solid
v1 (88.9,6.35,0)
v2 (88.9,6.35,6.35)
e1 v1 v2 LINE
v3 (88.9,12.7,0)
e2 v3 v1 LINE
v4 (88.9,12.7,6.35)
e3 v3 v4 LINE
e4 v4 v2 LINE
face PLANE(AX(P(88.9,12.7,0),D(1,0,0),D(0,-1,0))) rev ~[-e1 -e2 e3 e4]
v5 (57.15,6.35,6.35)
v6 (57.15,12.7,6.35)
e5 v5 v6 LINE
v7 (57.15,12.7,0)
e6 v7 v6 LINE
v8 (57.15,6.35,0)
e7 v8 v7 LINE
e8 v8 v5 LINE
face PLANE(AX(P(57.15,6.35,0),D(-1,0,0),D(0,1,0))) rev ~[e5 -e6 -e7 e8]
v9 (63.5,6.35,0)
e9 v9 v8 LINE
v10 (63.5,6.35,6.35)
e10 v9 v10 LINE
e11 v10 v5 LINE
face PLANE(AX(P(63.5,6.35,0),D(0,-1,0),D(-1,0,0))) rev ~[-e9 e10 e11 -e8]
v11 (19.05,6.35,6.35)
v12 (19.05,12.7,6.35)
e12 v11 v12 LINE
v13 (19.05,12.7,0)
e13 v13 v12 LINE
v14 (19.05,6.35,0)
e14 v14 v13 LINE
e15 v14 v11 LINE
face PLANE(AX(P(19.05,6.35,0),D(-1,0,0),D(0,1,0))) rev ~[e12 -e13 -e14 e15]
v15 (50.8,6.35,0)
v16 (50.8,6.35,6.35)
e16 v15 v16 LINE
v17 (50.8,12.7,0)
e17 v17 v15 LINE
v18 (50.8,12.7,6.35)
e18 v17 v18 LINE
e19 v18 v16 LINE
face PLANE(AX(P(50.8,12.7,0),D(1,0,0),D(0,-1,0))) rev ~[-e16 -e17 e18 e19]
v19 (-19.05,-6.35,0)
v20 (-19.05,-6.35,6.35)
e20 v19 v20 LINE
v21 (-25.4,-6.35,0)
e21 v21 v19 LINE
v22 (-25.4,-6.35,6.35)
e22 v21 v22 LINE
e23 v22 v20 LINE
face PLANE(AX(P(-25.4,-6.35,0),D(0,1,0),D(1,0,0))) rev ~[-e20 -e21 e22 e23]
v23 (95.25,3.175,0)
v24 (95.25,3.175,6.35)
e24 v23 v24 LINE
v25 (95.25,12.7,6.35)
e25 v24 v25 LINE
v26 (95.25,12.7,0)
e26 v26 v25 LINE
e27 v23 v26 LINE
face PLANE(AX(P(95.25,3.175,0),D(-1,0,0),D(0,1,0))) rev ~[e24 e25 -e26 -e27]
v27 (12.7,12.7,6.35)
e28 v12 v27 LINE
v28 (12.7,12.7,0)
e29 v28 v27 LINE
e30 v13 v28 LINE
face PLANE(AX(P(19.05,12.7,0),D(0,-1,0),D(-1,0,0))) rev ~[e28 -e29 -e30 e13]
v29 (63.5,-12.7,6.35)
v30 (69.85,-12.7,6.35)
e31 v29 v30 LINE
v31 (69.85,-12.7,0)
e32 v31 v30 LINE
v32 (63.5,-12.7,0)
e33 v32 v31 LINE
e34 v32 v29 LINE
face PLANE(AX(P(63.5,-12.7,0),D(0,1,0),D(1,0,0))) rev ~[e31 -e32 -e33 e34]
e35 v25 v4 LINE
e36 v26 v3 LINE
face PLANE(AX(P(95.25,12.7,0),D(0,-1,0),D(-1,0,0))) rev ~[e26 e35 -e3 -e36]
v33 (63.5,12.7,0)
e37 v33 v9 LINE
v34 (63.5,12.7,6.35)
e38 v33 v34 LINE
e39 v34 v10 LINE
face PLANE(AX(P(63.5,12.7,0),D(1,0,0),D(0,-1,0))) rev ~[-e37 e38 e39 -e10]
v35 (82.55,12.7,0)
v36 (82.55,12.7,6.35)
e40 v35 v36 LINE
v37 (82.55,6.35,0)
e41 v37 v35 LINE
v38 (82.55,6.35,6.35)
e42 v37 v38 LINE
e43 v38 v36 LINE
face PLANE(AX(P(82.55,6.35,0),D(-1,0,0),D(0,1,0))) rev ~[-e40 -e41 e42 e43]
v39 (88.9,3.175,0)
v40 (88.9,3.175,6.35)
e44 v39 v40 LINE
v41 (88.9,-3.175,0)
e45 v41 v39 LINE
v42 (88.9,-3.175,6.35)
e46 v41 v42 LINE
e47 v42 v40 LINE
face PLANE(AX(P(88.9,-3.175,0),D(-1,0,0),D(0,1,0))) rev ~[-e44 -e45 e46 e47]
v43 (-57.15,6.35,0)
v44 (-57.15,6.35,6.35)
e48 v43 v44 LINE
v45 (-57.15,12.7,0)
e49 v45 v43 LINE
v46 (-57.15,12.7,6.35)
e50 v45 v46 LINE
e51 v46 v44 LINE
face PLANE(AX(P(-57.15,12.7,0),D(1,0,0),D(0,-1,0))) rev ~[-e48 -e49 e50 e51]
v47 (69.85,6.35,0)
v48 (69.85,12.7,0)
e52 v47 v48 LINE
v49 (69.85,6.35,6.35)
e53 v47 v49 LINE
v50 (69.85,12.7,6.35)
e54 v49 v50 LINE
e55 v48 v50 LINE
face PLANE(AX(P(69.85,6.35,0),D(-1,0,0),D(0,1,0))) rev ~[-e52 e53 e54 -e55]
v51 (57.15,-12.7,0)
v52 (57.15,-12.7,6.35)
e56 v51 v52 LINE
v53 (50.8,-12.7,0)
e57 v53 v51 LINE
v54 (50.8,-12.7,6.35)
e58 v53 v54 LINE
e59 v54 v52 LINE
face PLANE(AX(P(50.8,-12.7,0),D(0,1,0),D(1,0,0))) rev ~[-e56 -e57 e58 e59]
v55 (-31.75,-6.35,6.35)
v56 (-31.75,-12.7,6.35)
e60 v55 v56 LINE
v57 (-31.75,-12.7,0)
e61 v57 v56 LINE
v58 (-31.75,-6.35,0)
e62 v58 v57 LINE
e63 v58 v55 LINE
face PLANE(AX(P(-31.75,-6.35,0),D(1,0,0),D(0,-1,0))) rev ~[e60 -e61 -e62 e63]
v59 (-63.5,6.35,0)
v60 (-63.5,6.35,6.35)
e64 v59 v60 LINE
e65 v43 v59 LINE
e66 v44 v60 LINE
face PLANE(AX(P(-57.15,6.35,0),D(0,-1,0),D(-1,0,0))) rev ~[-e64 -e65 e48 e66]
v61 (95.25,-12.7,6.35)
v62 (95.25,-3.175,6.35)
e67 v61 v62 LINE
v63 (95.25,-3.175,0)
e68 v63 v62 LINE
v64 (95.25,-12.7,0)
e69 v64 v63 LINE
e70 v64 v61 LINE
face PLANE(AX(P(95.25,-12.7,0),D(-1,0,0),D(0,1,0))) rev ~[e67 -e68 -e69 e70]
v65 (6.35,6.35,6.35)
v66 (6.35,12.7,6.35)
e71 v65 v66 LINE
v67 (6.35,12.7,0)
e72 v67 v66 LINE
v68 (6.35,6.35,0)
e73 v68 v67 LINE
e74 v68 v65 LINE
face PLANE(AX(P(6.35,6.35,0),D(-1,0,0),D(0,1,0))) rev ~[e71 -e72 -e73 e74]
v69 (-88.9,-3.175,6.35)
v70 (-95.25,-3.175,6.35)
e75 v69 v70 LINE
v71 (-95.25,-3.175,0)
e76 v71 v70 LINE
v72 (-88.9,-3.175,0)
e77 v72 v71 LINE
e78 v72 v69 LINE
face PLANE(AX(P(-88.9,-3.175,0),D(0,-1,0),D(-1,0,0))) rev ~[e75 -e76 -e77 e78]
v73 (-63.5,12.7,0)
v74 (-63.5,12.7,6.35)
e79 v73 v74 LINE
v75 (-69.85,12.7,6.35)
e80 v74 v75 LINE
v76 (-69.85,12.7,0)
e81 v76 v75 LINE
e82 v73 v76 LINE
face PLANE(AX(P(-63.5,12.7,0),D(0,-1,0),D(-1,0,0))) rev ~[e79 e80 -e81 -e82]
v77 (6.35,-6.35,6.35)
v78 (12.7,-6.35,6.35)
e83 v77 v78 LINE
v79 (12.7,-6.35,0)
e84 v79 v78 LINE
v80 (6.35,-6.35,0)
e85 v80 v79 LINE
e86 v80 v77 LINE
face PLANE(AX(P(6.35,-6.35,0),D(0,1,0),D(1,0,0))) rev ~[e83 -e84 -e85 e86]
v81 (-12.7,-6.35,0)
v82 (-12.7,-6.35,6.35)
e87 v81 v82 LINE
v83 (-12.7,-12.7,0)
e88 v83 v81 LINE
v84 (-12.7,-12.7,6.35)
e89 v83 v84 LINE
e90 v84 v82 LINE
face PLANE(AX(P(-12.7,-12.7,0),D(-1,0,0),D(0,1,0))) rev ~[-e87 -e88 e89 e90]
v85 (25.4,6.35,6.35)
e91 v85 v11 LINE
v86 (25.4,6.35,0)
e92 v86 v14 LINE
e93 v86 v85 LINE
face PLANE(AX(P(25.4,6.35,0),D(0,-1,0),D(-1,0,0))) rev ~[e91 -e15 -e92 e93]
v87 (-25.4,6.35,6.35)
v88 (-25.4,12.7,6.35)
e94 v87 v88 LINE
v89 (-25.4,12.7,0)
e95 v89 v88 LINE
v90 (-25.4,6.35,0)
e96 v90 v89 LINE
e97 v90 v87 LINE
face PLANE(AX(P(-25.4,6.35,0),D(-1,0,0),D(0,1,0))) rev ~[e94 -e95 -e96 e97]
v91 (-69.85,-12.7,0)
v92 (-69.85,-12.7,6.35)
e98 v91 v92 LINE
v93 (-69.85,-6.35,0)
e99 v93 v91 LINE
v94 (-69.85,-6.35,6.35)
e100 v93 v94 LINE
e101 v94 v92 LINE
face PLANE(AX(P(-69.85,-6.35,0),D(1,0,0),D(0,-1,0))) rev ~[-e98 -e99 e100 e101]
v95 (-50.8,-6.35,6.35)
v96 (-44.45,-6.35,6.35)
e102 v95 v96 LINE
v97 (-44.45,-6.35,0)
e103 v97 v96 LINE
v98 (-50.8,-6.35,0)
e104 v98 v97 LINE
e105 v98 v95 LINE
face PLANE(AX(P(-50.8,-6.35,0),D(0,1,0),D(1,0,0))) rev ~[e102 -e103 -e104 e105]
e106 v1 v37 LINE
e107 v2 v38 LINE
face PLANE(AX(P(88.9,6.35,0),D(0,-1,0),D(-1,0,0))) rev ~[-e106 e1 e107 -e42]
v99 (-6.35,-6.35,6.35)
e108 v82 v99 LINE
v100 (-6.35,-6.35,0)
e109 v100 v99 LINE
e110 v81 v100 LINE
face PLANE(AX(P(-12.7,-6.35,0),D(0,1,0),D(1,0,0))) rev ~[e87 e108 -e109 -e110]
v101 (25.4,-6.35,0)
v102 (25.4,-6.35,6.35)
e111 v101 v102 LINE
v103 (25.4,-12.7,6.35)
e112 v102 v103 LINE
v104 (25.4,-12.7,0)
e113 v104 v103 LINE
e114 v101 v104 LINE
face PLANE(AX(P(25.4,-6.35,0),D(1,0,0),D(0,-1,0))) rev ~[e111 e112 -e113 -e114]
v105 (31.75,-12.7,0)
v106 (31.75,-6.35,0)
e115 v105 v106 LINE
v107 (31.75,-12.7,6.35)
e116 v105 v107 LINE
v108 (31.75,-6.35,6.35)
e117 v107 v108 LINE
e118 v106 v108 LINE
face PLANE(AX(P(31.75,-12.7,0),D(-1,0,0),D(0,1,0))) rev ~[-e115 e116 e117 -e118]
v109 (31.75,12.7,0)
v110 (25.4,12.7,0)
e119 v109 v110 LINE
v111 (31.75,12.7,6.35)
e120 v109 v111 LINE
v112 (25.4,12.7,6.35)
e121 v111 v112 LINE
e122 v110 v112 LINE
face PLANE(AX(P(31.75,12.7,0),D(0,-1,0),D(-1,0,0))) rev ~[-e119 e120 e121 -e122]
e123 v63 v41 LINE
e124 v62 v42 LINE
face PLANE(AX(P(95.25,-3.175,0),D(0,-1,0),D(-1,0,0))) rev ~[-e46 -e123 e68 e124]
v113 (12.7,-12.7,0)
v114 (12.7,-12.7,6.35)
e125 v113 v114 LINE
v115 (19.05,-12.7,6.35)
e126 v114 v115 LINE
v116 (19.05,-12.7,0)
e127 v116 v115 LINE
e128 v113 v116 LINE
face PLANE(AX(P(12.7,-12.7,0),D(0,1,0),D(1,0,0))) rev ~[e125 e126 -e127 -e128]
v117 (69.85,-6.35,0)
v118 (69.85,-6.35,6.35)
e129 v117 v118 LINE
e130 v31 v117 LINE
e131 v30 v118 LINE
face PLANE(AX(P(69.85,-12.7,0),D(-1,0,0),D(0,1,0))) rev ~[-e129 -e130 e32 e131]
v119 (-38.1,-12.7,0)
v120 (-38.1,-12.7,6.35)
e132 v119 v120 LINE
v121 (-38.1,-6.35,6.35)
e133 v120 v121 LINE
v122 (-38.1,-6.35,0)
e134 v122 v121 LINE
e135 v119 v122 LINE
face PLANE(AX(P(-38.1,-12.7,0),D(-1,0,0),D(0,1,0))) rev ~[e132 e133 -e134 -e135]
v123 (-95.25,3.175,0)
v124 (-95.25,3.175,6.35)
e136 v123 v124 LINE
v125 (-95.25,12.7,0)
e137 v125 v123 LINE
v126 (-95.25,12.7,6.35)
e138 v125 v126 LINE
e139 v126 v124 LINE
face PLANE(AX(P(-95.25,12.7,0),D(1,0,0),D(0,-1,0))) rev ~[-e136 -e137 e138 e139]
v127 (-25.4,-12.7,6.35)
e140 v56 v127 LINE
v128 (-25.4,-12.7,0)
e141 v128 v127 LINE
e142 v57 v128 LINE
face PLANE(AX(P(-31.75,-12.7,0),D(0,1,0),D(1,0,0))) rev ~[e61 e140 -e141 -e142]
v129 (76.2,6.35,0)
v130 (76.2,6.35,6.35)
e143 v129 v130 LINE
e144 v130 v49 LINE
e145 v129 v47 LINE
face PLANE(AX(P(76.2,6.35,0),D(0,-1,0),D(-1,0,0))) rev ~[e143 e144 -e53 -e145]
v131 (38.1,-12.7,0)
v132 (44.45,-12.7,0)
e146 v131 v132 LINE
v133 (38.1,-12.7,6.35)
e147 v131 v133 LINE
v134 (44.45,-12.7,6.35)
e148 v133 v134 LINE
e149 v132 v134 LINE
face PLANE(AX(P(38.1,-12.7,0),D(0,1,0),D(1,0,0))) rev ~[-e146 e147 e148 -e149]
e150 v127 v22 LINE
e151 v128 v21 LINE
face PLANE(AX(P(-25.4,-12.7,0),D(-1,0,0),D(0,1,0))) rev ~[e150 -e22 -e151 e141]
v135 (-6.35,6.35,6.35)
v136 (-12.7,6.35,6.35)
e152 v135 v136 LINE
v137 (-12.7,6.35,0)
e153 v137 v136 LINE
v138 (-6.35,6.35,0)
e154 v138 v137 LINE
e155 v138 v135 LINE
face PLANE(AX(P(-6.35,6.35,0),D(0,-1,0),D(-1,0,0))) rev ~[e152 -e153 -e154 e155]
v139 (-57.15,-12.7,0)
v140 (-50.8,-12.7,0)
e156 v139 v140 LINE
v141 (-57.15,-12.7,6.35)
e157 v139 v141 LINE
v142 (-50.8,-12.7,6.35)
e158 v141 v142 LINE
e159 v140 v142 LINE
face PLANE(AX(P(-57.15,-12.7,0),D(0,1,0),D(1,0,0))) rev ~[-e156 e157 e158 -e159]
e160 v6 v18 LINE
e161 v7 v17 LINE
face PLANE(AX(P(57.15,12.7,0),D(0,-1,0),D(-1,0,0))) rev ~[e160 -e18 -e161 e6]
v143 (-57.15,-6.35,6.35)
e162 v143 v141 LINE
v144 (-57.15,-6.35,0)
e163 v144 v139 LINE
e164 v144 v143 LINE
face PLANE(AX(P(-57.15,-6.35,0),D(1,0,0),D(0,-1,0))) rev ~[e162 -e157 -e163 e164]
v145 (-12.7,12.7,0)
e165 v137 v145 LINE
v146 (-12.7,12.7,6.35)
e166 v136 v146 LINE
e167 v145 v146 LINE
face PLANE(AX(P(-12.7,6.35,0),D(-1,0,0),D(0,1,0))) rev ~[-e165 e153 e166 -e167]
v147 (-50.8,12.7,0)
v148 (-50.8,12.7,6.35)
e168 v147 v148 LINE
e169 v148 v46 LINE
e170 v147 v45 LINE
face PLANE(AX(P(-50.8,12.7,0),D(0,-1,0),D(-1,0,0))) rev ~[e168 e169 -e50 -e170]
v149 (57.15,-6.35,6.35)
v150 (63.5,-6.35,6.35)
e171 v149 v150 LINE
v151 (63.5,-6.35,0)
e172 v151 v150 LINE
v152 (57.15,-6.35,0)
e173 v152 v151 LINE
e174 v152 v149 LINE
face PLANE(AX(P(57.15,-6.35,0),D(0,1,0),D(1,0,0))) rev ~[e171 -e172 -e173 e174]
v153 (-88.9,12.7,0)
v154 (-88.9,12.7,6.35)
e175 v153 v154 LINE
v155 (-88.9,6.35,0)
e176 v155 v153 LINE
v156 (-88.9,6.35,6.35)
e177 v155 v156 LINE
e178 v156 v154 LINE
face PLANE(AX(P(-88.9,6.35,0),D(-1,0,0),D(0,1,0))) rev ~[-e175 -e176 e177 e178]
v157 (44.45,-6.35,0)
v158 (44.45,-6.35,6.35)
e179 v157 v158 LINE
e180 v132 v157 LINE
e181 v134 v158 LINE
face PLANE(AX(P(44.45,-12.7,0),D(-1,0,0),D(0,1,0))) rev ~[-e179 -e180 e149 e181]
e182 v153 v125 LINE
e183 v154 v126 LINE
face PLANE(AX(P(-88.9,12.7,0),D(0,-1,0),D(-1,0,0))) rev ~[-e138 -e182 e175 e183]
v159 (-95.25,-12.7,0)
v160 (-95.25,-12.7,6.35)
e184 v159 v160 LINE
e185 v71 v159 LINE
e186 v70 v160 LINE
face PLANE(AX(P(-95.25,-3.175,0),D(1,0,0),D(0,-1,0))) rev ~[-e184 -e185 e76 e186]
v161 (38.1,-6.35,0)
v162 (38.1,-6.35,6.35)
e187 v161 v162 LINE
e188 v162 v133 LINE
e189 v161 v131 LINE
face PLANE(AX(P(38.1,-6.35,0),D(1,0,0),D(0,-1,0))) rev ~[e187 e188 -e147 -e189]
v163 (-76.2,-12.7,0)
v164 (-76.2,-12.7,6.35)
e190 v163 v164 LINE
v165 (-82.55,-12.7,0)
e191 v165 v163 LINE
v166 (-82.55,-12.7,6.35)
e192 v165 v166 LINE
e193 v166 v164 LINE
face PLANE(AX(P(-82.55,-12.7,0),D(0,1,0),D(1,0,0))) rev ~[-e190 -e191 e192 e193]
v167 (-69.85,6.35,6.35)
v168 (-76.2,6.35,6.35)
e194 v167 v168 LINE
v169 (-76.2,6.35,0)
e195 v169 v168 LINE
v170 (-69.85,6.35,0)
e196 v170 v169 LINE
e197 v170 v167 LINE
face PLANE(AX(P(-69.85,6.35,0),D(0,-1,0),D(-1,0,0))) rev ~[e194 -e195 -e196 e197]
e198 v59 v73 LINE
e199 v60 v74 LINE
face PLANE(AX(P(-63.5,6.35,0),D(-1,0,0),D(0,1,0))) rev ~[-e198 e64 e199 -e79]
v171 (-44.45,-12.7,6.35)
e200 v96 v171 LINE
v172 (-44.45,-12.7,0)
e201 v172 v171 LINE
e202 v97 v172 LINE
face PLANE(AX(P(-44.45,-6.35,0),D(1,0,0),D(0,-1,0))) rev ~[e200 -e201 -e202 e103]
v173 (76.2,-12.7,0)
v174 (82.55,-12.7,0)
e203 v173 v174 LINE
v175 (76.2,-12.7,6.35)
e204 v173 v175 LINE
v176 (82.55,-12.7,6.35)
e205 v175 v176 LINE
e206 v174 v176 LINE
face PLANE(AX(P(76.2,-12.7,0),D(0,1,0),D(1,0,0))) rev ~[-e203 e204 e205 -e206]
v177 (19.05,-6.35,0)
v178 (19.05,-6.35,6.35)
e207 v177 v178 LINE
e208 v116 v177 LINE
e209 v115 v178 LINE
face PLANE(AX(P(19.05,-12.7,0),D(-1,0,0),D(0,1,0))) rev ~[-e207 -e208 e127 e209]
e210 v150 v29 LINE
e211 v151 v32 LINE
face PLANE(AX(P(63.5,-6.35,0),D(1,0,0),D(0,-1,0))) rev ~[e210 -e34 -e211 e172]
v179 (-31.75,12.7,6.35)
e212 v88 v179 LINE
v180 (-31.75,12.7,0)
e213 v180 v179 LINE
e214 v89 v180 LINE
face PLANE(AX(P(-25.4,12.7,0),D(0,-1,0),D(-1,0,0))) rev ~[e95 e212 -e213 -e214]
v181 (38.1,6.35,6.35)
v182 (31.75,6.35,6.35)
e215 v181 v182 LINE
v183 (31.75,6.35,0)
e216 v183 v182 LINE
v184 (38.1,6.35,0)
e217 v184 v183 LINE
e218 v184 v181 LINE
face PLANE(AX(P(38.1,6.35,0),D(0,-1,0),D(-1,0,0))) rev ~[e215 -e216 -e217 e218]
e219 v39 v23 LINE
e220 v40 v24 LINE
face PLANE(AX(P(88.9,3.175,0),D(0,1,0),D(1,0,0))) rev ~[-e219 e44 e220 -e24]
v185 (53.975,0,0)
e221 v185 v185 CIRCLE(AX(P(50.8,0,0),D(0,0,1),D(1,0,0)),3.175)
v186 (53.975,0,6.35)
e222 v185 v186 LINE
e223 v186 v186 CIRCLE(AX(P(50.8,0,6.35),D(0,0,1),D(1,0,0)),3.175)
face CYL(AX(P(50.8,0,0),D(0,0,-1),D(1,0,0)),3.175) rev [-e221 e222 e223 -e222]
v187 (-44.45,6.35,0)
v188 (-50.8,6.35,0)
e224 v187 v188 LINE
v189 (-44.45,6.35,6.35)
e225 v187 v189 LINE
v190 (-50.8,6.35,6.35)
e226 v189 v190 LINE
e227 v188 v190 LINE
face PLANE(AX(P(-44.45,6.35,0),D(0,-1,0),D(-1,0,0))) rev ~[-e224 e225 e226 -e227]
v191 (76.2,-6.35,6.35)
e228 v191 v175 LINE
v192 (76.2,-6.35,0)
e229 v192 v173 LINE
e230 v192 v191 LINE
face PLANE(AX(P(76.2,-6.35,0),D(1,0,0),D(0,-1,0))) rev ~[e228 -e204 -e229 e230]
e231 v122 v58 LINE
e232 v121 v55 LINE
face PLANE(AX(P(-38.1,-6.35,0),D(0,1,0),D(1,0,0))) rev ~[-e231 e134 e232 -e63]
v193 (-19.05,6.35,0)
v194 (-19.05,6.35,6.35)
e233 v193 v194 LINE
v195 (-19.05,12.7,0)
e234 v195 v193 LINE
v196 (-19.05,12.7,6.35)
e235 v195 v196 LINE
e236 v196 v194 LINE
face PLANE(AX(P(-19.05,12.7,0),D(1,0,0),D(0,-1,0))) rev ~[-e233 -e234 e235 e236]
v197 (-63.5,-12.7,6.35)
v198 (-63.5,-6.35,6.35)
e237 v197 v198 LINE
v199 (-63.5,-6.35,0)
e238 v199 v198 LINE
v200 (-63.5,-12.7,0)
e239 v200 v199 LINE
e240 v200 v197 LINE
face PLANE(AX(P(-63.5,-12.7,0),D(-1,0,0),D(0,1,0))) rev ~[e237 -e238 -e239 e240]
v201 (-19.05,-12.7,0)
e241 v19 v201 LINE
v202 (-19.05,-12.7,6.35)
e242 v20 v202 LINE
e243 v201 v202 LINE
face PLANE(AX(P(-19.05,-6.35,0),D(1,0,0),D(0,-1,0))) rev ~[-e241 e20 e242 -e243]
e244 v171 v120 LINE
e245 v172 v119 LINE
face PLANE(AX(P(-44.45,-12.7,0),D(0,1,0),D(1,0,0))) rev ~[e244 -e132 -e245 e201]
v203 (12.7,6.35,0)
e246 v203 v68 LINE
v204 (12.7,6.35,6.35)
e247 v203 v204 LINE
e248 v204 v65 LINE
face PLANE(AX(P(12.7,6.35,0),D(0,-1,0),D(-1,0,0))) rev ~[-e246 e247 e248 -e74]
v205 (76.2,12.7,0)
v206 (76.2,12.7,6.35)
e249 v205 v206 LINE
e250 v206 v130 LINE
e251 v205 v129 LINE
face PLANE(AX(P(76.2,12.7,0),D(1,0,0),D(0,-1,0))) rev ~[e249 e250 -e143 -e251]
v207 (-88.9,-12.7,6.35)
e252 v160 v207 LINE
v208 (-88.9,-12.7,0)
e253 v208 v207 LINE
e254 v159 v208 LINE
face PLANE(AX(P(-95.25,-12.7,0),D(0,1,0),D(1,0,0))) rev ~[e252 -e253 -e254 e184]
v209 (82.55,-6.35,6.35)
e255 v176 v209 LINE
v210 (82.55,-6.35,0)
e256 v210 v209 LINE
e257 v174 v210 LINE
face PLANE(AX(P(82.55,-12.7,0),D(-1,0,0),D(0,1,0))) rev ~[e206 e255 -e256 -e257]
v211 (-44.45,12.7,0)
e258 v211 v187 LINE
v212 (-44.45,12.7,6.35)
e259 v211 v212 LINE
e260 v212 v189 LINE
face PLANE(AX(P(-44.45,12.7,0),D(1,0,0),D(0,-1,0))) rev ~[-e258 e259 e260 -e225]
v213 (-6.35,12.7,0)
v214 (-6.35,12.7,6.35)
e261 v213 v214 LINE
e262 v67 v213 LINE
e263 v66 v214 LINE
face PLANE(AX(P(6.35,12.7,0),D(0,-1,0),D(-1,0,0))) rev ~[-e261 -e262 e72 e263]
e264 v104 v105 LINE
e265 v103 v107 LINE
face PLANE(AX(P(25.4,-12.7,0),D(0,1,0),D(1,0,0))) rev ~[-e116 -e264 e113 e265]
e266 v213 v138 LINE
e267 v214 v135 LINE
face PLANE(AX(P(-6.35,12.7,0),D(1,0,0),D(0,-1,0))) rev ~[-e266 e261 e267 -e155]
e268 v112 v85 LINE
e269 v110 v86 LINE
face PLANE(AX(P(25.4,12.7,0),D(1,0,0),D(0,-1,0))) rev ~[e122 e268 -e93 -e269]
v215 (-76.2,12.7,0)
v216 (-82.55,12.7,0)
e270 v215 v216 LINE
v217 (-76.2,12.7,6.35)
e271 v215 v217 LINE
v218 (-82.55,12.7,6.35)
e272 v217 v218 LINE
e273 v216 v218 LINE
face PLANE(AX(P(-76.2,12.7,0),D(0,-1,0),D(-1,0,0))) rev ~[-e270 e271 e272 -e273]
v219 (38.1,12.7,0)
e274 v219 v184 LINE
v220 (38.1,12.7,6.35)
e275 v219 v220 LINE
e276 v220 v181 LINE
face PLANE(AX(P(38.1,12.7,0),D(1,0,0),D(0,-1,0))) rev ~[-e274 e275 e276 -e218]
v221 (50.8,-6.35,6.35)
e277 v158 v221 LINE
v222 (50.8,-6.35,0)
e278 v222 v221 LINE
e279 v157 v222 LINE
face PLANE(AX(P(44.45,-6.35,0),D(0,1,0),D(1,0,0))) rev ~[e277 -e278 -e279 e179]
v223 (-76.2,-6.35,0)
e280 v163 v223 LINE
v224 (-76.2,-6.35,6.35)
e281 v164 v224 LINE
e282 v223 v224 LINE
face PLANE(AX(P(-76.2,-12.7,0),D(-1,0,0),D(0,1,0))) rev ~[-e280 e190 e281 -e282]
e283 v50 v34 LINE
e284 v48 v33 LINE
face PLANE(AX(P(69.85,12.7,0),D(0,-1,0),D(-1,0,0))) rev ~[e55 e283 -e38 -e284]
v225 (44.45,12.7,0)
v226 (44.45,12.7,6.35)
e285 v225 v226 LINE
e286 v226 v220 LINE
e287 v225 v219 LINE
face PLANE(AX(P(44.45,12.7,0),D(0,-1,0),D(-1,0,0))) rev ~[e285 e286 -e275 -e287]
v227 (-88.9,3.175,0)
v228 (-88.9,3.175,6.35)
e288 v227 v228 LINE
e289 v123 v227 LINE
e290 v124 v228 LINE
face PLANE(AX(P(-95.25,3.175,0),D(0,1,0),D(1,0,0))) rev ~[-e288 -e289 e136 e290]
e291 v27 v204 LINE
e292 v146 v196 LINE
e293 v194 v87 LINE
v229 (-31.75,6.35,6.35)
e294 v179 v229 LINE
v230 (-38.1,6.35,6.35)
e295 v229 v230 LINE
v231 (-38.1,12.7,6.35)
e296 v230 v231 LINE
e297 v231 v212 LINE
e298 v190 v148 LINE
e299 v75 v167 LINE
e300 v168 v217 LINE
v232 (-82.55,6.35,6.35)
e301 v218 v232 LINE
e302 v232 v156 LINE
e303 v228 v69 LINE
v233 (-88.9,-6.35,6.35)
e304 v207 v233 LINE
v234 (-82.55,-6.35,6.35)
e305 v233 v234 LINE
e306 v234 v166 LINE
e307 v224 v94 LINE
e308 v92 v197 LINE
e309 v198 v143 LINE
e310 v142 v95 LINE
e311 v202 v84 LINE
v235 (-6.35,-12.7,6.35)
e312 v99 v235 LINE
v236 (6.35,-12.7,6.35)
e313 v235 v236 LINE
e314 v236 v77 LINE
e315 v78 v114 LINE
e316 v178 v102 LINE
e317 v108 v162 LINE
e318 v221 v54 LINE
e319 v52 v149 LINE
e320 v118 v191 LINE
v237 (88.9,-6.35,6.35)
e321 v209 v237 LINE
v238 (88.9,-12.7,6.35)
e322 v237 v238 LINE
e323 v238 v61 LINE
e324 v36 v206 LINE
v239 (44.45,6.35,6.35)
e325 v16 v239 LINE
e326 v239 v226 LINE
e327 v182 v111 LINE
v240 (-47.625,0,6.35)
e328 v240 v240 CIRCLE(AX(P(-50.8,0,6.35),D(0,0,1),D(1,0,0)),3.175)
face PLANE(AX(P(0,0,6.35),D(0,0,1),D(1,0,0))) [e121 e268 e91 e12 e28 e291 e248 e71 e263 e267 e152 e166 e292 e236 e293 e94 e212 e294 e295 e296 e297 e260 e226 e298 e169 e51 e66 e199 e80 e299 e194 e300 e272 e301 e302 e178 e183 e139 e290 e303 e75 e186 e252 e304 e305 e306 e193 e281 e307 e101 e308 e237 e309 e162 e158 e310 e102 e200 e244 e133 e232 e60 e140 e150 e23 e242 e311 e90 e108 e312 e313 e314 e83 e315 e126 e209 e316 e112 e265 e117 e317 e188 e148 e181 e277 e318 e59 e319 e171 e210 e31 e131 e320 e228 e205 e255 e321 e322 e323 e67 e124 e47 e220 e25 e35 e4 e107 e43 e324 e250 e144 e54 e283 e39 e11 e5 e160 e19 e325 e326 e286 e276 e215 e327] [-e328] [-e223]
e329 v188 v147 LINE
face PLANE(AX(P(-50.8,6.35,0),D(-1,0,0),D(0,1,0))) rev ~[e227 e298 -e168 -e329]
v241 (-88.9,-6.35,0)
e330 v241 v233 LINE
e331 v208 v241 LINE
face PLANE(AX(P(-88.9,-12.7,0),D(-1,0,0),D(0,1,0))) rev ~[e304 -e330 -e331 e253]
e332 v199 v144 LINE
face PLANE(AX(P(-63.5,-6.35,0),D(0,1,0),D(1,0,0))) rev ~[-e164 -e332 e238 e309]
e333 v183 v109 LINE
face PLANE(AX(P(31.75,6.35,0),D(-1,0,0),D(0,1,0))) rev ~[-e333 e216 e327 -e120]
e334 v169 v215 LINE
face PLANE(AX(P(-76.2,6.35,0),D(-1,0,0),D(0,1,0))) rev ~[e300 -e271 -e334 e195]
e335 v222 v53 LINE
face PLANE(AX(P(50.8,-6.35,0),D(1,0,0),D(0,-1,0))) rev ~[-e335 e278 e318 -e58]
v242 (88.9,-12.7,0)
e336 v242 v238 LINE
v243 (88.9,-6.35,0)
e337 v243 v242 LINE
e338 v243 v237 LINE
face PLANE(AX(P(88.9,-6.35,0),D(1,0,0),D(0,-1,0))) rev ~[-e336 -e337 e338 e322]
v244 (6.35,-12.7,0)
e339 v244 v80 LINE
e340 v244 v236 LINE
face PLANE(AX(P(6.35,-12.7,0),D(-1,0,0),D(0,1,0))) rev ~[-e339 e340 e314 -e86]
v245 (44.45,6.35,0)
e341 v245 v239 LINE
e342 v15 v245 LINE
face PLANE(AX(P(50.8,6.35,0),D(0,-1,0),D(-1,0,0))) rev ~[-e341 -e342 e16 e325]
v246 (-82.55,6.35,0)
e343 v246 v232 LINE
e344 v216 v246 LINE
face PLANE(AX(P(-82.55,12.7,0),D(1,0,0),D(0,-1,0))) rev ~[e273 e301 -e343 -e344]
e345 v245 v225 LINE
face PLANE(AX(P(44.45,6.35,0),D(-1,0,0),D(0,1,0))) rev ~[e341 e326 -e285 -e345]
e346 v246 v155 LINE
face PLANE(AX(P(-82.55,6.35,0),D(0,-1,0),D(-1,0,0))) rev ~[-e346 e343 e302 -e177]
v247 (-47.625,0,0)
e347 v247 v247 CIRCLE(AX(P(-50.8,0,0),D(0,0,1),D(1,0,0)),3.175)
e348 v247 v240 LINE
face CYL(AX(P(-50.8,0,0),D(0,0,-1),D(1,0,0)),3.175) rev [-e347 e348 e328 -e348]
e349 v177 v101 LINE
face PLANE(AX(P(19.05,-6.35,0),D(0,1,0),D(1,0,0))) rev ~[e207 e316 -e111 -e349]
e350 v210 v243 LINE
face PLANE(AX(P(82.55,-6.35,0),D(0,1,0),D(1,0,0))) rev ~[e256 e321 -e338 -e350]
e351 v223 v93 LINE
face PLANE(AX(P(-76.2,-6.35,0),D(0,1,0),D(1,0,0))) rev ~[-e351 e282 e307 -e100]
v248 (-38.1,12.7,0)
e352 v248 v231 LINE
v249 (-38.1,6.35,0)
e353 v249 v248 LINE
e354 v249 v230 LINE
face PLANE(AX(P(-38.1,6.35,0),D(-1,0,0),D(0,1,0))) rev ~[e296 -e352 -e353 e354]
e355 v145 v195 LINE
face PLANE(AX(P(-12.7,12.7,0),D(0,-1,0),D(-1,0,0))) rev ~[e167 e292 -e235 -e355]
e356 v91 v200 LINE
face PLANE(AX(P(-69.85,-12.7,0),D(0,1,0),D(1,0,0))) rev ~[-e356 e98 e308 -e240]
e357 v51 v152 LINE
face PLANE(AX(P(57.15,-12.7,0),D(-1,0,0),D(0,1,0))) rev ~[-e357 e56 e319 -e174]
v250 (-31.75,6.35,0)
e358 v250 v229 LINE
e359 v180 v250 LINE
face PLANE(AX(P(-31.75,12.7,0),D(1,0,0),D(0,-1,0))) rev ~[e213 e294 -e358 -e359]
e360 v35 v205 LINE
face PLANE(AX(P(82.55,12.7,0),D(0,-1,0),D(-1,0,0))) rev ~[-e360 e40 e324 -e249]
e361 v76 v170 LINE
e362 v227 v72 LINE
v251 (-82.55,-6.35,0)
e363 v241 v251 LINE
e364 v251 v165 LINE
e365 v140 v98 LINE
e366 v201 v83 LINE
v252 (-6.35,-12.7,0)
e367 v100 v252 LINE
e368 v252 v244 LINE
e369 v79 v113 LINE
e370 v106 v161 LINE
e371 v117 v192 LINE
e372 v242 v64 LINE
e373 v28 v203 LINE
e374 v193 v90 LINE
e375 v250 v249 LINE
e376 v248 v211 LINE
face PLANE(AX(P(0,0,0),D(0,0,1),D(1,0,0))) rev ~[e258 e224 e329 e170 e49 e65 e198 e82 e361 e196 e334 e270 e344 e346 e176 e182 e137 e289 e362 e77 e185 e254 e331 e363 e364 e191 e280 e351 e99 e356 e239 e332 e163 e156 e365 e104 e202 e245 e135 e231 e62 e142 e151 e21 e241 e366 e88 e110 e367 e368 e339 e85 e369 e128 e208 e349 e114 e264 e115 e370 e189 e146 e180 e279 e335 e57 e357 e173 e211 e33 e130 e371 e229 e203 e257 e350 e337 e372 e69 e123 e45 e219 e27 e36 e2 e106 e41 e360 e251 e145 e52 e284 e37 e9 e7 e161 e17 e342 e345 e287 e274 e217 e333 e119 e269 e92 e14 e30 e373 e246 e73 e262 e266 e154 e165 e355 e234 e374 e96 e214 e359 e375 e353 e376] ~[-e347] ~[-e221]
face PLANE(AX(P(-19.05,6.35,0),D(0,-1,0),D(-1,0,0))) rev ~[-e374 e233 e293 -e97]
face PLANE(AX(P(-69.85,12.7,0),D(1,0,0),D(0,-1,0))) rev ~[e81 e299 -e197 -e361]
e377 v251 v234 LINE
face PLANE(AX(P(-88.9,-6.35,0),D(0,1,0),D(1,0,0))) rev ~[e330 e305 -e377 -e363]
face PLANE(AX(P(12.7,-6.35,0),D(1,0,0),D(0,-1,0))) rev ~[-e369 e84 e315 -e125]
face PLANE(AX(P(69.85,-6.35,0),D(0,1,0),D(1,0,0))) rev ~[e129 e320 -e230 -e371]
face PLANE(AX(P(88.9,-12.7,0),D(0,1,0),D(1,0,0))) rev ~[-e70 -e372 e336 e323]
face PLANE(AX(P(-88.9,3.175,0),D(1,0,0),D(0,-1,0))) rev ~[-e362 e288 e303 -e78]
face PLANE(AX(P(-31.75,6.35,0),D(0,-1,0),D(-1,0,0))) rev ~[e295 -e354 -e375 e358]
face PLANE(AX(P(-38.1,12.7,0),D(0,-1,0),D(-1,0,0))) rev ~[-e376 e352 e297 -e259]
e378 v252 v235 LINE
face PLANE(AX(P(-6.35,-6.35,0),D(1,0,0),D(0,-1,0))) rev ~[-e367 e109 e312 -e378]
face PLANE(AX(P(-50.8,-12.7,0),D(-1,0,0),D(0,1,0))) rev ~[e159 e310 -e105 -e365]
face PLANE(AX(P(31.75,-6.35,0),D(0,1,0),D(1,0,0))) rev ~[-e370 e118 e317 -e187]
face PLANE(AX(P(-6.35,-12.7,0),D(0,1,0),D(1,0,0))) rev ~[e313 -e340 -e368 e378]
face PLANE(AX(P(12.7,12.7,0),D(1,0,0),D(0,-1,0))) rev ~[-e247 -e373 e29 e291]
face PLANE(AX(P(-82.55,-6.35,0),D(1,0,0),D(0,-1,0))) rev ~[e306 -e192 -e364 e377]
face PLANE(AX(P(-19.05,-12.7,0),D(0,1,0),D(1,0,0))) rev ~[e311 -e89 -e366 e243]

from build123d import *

# Parameters (mm, degrees)
SKETCH1_R           = 3.175
BOSS_EXTRUDE1_DEPTH = 6.35


with BuildPart() as part:
    # Sketch1 → Boss-Extrude1 (new body)
    with BuildSketch(Plane.XY):
        Polygon((-88.9, 12.7), (-95.25, 12.7), (-95.25, 3.175), (-88.9, 3.175), (-88.9, -3.175), (-95.25, -3.175), (-95.25, -12.7), (-88.9, -12.7), (-88.9, -6.35), (-82.55, -6.35), (-82.55, -12.7), (-76.2, -12.7), (-76.2, -6.35), (-69.85, -6.35), (-69.85, -12.7), (-63.5, -12.7), (-63.5, -6.35), (-57.15, -6.35), (-57.15, -12.7), (-50.8, -12.7), (-50.8, -6.35), (-44.45, -6.35), (-44.45, -12.7), (-38.1, -12.7), (-38.1, -6.35), (-31.75, -6.35), (-31.75, -12.7), (-25.4, -12.7), (-25.4, -6.35), (-19.05, -6.35), (-19.05, -12.7), (-12.7, -12.7), (-12.7, -6.35), (-6.35, -6.35), (-6.35, -12.7), (6.35, -12.7), (6.35, -6.35), (12.7, -6.35), (12.7, -12.7), (19.05, -12.7), (19.05, -6.35), (25.4, -6.35), (25.4, -12.7), (31.75, -12.7), (31.75, -6.35), (38.1, -6.35), (38.1, -12.7), (44.45, -12.7), (44.45, -6.35), (50.8, -6.35), (50.8, -12.7), (57.15, -12.7), (57.15, -6.35), (63.5, -6.35), (63.5, -12.7), (69.85, -12.7), (69.85, -6.35), (76.2, -6.35), (76.2, -12.7), (82.55, -12.7), (82.55, -6.35), (88.9, -6.35), (88.9, -12.7), (95.25, -12.7), (95.25, -3.175), (88.9, -3.175), (88.9, 3.175), (95.25, 3.175), (95.25, 12.7), (88.9, 12.7), (88.9, 6.35), (82.55, 6.35), (82.55, 12.7), (76.2, 12.7), (76.2, 6.35), (69.85, 6.35), (69.85, 12.7), (63.5, 12.7), (63.5, 6.35), (57.15, 6.35), (57.15, 12.7), (50.8, 12.7), (50.8, 6.35), (44.45, 6.35), (44.45, 12.7), (38.1, 12.7), (38.1, 6.35), (31.75, 6.35), (31.75, 12.7), (25.4, 12.7), (25.4, 6.35), (19.05, 6.35), (19.05, 12.7), (12.7, 12.7), (12.7, 6.35), (6.35, 6.35), (6.35, 12.7), (-6.35, 12.7), (-6.35, 6.35), (-12.7, 6.35), (-12.7, 12.7), (-19.05, 12.7), (-19.05, 6.35), (-25.4, 6.35), (-25.4, 12.7), (-31.75, 12.7), (-31.75, 6.35), (-38.1, 6.35), (-38.1, 12.7), (-44.45, 12.7), (-44.45, 6.35), (-50.8, 6.35), (-50.8, 12.7), (-57.15, 12.7), (-57.15, 6.35), (-63.5, 6.35), (-63.5, 12.7), (-69.85, 12.7), (-69.85, 6.35), (-76.2, 6.35), (-76.2, 12.7), (-82.55, 12.7), (-82.55, 6.35), (-88.9, 6.35), align=None)
        with Locations((-50.8, 0)):
            Circle(SKETCH1_R, mode=Mode.SUBTRACT)
        with Locations((50.8, 0)):
            Circle(SKETCH1_R, mode=Mode.SUBTRACT)
    extrude(amount=BOSS_EXTRUDE1_DEPTH)


solid = part.part
